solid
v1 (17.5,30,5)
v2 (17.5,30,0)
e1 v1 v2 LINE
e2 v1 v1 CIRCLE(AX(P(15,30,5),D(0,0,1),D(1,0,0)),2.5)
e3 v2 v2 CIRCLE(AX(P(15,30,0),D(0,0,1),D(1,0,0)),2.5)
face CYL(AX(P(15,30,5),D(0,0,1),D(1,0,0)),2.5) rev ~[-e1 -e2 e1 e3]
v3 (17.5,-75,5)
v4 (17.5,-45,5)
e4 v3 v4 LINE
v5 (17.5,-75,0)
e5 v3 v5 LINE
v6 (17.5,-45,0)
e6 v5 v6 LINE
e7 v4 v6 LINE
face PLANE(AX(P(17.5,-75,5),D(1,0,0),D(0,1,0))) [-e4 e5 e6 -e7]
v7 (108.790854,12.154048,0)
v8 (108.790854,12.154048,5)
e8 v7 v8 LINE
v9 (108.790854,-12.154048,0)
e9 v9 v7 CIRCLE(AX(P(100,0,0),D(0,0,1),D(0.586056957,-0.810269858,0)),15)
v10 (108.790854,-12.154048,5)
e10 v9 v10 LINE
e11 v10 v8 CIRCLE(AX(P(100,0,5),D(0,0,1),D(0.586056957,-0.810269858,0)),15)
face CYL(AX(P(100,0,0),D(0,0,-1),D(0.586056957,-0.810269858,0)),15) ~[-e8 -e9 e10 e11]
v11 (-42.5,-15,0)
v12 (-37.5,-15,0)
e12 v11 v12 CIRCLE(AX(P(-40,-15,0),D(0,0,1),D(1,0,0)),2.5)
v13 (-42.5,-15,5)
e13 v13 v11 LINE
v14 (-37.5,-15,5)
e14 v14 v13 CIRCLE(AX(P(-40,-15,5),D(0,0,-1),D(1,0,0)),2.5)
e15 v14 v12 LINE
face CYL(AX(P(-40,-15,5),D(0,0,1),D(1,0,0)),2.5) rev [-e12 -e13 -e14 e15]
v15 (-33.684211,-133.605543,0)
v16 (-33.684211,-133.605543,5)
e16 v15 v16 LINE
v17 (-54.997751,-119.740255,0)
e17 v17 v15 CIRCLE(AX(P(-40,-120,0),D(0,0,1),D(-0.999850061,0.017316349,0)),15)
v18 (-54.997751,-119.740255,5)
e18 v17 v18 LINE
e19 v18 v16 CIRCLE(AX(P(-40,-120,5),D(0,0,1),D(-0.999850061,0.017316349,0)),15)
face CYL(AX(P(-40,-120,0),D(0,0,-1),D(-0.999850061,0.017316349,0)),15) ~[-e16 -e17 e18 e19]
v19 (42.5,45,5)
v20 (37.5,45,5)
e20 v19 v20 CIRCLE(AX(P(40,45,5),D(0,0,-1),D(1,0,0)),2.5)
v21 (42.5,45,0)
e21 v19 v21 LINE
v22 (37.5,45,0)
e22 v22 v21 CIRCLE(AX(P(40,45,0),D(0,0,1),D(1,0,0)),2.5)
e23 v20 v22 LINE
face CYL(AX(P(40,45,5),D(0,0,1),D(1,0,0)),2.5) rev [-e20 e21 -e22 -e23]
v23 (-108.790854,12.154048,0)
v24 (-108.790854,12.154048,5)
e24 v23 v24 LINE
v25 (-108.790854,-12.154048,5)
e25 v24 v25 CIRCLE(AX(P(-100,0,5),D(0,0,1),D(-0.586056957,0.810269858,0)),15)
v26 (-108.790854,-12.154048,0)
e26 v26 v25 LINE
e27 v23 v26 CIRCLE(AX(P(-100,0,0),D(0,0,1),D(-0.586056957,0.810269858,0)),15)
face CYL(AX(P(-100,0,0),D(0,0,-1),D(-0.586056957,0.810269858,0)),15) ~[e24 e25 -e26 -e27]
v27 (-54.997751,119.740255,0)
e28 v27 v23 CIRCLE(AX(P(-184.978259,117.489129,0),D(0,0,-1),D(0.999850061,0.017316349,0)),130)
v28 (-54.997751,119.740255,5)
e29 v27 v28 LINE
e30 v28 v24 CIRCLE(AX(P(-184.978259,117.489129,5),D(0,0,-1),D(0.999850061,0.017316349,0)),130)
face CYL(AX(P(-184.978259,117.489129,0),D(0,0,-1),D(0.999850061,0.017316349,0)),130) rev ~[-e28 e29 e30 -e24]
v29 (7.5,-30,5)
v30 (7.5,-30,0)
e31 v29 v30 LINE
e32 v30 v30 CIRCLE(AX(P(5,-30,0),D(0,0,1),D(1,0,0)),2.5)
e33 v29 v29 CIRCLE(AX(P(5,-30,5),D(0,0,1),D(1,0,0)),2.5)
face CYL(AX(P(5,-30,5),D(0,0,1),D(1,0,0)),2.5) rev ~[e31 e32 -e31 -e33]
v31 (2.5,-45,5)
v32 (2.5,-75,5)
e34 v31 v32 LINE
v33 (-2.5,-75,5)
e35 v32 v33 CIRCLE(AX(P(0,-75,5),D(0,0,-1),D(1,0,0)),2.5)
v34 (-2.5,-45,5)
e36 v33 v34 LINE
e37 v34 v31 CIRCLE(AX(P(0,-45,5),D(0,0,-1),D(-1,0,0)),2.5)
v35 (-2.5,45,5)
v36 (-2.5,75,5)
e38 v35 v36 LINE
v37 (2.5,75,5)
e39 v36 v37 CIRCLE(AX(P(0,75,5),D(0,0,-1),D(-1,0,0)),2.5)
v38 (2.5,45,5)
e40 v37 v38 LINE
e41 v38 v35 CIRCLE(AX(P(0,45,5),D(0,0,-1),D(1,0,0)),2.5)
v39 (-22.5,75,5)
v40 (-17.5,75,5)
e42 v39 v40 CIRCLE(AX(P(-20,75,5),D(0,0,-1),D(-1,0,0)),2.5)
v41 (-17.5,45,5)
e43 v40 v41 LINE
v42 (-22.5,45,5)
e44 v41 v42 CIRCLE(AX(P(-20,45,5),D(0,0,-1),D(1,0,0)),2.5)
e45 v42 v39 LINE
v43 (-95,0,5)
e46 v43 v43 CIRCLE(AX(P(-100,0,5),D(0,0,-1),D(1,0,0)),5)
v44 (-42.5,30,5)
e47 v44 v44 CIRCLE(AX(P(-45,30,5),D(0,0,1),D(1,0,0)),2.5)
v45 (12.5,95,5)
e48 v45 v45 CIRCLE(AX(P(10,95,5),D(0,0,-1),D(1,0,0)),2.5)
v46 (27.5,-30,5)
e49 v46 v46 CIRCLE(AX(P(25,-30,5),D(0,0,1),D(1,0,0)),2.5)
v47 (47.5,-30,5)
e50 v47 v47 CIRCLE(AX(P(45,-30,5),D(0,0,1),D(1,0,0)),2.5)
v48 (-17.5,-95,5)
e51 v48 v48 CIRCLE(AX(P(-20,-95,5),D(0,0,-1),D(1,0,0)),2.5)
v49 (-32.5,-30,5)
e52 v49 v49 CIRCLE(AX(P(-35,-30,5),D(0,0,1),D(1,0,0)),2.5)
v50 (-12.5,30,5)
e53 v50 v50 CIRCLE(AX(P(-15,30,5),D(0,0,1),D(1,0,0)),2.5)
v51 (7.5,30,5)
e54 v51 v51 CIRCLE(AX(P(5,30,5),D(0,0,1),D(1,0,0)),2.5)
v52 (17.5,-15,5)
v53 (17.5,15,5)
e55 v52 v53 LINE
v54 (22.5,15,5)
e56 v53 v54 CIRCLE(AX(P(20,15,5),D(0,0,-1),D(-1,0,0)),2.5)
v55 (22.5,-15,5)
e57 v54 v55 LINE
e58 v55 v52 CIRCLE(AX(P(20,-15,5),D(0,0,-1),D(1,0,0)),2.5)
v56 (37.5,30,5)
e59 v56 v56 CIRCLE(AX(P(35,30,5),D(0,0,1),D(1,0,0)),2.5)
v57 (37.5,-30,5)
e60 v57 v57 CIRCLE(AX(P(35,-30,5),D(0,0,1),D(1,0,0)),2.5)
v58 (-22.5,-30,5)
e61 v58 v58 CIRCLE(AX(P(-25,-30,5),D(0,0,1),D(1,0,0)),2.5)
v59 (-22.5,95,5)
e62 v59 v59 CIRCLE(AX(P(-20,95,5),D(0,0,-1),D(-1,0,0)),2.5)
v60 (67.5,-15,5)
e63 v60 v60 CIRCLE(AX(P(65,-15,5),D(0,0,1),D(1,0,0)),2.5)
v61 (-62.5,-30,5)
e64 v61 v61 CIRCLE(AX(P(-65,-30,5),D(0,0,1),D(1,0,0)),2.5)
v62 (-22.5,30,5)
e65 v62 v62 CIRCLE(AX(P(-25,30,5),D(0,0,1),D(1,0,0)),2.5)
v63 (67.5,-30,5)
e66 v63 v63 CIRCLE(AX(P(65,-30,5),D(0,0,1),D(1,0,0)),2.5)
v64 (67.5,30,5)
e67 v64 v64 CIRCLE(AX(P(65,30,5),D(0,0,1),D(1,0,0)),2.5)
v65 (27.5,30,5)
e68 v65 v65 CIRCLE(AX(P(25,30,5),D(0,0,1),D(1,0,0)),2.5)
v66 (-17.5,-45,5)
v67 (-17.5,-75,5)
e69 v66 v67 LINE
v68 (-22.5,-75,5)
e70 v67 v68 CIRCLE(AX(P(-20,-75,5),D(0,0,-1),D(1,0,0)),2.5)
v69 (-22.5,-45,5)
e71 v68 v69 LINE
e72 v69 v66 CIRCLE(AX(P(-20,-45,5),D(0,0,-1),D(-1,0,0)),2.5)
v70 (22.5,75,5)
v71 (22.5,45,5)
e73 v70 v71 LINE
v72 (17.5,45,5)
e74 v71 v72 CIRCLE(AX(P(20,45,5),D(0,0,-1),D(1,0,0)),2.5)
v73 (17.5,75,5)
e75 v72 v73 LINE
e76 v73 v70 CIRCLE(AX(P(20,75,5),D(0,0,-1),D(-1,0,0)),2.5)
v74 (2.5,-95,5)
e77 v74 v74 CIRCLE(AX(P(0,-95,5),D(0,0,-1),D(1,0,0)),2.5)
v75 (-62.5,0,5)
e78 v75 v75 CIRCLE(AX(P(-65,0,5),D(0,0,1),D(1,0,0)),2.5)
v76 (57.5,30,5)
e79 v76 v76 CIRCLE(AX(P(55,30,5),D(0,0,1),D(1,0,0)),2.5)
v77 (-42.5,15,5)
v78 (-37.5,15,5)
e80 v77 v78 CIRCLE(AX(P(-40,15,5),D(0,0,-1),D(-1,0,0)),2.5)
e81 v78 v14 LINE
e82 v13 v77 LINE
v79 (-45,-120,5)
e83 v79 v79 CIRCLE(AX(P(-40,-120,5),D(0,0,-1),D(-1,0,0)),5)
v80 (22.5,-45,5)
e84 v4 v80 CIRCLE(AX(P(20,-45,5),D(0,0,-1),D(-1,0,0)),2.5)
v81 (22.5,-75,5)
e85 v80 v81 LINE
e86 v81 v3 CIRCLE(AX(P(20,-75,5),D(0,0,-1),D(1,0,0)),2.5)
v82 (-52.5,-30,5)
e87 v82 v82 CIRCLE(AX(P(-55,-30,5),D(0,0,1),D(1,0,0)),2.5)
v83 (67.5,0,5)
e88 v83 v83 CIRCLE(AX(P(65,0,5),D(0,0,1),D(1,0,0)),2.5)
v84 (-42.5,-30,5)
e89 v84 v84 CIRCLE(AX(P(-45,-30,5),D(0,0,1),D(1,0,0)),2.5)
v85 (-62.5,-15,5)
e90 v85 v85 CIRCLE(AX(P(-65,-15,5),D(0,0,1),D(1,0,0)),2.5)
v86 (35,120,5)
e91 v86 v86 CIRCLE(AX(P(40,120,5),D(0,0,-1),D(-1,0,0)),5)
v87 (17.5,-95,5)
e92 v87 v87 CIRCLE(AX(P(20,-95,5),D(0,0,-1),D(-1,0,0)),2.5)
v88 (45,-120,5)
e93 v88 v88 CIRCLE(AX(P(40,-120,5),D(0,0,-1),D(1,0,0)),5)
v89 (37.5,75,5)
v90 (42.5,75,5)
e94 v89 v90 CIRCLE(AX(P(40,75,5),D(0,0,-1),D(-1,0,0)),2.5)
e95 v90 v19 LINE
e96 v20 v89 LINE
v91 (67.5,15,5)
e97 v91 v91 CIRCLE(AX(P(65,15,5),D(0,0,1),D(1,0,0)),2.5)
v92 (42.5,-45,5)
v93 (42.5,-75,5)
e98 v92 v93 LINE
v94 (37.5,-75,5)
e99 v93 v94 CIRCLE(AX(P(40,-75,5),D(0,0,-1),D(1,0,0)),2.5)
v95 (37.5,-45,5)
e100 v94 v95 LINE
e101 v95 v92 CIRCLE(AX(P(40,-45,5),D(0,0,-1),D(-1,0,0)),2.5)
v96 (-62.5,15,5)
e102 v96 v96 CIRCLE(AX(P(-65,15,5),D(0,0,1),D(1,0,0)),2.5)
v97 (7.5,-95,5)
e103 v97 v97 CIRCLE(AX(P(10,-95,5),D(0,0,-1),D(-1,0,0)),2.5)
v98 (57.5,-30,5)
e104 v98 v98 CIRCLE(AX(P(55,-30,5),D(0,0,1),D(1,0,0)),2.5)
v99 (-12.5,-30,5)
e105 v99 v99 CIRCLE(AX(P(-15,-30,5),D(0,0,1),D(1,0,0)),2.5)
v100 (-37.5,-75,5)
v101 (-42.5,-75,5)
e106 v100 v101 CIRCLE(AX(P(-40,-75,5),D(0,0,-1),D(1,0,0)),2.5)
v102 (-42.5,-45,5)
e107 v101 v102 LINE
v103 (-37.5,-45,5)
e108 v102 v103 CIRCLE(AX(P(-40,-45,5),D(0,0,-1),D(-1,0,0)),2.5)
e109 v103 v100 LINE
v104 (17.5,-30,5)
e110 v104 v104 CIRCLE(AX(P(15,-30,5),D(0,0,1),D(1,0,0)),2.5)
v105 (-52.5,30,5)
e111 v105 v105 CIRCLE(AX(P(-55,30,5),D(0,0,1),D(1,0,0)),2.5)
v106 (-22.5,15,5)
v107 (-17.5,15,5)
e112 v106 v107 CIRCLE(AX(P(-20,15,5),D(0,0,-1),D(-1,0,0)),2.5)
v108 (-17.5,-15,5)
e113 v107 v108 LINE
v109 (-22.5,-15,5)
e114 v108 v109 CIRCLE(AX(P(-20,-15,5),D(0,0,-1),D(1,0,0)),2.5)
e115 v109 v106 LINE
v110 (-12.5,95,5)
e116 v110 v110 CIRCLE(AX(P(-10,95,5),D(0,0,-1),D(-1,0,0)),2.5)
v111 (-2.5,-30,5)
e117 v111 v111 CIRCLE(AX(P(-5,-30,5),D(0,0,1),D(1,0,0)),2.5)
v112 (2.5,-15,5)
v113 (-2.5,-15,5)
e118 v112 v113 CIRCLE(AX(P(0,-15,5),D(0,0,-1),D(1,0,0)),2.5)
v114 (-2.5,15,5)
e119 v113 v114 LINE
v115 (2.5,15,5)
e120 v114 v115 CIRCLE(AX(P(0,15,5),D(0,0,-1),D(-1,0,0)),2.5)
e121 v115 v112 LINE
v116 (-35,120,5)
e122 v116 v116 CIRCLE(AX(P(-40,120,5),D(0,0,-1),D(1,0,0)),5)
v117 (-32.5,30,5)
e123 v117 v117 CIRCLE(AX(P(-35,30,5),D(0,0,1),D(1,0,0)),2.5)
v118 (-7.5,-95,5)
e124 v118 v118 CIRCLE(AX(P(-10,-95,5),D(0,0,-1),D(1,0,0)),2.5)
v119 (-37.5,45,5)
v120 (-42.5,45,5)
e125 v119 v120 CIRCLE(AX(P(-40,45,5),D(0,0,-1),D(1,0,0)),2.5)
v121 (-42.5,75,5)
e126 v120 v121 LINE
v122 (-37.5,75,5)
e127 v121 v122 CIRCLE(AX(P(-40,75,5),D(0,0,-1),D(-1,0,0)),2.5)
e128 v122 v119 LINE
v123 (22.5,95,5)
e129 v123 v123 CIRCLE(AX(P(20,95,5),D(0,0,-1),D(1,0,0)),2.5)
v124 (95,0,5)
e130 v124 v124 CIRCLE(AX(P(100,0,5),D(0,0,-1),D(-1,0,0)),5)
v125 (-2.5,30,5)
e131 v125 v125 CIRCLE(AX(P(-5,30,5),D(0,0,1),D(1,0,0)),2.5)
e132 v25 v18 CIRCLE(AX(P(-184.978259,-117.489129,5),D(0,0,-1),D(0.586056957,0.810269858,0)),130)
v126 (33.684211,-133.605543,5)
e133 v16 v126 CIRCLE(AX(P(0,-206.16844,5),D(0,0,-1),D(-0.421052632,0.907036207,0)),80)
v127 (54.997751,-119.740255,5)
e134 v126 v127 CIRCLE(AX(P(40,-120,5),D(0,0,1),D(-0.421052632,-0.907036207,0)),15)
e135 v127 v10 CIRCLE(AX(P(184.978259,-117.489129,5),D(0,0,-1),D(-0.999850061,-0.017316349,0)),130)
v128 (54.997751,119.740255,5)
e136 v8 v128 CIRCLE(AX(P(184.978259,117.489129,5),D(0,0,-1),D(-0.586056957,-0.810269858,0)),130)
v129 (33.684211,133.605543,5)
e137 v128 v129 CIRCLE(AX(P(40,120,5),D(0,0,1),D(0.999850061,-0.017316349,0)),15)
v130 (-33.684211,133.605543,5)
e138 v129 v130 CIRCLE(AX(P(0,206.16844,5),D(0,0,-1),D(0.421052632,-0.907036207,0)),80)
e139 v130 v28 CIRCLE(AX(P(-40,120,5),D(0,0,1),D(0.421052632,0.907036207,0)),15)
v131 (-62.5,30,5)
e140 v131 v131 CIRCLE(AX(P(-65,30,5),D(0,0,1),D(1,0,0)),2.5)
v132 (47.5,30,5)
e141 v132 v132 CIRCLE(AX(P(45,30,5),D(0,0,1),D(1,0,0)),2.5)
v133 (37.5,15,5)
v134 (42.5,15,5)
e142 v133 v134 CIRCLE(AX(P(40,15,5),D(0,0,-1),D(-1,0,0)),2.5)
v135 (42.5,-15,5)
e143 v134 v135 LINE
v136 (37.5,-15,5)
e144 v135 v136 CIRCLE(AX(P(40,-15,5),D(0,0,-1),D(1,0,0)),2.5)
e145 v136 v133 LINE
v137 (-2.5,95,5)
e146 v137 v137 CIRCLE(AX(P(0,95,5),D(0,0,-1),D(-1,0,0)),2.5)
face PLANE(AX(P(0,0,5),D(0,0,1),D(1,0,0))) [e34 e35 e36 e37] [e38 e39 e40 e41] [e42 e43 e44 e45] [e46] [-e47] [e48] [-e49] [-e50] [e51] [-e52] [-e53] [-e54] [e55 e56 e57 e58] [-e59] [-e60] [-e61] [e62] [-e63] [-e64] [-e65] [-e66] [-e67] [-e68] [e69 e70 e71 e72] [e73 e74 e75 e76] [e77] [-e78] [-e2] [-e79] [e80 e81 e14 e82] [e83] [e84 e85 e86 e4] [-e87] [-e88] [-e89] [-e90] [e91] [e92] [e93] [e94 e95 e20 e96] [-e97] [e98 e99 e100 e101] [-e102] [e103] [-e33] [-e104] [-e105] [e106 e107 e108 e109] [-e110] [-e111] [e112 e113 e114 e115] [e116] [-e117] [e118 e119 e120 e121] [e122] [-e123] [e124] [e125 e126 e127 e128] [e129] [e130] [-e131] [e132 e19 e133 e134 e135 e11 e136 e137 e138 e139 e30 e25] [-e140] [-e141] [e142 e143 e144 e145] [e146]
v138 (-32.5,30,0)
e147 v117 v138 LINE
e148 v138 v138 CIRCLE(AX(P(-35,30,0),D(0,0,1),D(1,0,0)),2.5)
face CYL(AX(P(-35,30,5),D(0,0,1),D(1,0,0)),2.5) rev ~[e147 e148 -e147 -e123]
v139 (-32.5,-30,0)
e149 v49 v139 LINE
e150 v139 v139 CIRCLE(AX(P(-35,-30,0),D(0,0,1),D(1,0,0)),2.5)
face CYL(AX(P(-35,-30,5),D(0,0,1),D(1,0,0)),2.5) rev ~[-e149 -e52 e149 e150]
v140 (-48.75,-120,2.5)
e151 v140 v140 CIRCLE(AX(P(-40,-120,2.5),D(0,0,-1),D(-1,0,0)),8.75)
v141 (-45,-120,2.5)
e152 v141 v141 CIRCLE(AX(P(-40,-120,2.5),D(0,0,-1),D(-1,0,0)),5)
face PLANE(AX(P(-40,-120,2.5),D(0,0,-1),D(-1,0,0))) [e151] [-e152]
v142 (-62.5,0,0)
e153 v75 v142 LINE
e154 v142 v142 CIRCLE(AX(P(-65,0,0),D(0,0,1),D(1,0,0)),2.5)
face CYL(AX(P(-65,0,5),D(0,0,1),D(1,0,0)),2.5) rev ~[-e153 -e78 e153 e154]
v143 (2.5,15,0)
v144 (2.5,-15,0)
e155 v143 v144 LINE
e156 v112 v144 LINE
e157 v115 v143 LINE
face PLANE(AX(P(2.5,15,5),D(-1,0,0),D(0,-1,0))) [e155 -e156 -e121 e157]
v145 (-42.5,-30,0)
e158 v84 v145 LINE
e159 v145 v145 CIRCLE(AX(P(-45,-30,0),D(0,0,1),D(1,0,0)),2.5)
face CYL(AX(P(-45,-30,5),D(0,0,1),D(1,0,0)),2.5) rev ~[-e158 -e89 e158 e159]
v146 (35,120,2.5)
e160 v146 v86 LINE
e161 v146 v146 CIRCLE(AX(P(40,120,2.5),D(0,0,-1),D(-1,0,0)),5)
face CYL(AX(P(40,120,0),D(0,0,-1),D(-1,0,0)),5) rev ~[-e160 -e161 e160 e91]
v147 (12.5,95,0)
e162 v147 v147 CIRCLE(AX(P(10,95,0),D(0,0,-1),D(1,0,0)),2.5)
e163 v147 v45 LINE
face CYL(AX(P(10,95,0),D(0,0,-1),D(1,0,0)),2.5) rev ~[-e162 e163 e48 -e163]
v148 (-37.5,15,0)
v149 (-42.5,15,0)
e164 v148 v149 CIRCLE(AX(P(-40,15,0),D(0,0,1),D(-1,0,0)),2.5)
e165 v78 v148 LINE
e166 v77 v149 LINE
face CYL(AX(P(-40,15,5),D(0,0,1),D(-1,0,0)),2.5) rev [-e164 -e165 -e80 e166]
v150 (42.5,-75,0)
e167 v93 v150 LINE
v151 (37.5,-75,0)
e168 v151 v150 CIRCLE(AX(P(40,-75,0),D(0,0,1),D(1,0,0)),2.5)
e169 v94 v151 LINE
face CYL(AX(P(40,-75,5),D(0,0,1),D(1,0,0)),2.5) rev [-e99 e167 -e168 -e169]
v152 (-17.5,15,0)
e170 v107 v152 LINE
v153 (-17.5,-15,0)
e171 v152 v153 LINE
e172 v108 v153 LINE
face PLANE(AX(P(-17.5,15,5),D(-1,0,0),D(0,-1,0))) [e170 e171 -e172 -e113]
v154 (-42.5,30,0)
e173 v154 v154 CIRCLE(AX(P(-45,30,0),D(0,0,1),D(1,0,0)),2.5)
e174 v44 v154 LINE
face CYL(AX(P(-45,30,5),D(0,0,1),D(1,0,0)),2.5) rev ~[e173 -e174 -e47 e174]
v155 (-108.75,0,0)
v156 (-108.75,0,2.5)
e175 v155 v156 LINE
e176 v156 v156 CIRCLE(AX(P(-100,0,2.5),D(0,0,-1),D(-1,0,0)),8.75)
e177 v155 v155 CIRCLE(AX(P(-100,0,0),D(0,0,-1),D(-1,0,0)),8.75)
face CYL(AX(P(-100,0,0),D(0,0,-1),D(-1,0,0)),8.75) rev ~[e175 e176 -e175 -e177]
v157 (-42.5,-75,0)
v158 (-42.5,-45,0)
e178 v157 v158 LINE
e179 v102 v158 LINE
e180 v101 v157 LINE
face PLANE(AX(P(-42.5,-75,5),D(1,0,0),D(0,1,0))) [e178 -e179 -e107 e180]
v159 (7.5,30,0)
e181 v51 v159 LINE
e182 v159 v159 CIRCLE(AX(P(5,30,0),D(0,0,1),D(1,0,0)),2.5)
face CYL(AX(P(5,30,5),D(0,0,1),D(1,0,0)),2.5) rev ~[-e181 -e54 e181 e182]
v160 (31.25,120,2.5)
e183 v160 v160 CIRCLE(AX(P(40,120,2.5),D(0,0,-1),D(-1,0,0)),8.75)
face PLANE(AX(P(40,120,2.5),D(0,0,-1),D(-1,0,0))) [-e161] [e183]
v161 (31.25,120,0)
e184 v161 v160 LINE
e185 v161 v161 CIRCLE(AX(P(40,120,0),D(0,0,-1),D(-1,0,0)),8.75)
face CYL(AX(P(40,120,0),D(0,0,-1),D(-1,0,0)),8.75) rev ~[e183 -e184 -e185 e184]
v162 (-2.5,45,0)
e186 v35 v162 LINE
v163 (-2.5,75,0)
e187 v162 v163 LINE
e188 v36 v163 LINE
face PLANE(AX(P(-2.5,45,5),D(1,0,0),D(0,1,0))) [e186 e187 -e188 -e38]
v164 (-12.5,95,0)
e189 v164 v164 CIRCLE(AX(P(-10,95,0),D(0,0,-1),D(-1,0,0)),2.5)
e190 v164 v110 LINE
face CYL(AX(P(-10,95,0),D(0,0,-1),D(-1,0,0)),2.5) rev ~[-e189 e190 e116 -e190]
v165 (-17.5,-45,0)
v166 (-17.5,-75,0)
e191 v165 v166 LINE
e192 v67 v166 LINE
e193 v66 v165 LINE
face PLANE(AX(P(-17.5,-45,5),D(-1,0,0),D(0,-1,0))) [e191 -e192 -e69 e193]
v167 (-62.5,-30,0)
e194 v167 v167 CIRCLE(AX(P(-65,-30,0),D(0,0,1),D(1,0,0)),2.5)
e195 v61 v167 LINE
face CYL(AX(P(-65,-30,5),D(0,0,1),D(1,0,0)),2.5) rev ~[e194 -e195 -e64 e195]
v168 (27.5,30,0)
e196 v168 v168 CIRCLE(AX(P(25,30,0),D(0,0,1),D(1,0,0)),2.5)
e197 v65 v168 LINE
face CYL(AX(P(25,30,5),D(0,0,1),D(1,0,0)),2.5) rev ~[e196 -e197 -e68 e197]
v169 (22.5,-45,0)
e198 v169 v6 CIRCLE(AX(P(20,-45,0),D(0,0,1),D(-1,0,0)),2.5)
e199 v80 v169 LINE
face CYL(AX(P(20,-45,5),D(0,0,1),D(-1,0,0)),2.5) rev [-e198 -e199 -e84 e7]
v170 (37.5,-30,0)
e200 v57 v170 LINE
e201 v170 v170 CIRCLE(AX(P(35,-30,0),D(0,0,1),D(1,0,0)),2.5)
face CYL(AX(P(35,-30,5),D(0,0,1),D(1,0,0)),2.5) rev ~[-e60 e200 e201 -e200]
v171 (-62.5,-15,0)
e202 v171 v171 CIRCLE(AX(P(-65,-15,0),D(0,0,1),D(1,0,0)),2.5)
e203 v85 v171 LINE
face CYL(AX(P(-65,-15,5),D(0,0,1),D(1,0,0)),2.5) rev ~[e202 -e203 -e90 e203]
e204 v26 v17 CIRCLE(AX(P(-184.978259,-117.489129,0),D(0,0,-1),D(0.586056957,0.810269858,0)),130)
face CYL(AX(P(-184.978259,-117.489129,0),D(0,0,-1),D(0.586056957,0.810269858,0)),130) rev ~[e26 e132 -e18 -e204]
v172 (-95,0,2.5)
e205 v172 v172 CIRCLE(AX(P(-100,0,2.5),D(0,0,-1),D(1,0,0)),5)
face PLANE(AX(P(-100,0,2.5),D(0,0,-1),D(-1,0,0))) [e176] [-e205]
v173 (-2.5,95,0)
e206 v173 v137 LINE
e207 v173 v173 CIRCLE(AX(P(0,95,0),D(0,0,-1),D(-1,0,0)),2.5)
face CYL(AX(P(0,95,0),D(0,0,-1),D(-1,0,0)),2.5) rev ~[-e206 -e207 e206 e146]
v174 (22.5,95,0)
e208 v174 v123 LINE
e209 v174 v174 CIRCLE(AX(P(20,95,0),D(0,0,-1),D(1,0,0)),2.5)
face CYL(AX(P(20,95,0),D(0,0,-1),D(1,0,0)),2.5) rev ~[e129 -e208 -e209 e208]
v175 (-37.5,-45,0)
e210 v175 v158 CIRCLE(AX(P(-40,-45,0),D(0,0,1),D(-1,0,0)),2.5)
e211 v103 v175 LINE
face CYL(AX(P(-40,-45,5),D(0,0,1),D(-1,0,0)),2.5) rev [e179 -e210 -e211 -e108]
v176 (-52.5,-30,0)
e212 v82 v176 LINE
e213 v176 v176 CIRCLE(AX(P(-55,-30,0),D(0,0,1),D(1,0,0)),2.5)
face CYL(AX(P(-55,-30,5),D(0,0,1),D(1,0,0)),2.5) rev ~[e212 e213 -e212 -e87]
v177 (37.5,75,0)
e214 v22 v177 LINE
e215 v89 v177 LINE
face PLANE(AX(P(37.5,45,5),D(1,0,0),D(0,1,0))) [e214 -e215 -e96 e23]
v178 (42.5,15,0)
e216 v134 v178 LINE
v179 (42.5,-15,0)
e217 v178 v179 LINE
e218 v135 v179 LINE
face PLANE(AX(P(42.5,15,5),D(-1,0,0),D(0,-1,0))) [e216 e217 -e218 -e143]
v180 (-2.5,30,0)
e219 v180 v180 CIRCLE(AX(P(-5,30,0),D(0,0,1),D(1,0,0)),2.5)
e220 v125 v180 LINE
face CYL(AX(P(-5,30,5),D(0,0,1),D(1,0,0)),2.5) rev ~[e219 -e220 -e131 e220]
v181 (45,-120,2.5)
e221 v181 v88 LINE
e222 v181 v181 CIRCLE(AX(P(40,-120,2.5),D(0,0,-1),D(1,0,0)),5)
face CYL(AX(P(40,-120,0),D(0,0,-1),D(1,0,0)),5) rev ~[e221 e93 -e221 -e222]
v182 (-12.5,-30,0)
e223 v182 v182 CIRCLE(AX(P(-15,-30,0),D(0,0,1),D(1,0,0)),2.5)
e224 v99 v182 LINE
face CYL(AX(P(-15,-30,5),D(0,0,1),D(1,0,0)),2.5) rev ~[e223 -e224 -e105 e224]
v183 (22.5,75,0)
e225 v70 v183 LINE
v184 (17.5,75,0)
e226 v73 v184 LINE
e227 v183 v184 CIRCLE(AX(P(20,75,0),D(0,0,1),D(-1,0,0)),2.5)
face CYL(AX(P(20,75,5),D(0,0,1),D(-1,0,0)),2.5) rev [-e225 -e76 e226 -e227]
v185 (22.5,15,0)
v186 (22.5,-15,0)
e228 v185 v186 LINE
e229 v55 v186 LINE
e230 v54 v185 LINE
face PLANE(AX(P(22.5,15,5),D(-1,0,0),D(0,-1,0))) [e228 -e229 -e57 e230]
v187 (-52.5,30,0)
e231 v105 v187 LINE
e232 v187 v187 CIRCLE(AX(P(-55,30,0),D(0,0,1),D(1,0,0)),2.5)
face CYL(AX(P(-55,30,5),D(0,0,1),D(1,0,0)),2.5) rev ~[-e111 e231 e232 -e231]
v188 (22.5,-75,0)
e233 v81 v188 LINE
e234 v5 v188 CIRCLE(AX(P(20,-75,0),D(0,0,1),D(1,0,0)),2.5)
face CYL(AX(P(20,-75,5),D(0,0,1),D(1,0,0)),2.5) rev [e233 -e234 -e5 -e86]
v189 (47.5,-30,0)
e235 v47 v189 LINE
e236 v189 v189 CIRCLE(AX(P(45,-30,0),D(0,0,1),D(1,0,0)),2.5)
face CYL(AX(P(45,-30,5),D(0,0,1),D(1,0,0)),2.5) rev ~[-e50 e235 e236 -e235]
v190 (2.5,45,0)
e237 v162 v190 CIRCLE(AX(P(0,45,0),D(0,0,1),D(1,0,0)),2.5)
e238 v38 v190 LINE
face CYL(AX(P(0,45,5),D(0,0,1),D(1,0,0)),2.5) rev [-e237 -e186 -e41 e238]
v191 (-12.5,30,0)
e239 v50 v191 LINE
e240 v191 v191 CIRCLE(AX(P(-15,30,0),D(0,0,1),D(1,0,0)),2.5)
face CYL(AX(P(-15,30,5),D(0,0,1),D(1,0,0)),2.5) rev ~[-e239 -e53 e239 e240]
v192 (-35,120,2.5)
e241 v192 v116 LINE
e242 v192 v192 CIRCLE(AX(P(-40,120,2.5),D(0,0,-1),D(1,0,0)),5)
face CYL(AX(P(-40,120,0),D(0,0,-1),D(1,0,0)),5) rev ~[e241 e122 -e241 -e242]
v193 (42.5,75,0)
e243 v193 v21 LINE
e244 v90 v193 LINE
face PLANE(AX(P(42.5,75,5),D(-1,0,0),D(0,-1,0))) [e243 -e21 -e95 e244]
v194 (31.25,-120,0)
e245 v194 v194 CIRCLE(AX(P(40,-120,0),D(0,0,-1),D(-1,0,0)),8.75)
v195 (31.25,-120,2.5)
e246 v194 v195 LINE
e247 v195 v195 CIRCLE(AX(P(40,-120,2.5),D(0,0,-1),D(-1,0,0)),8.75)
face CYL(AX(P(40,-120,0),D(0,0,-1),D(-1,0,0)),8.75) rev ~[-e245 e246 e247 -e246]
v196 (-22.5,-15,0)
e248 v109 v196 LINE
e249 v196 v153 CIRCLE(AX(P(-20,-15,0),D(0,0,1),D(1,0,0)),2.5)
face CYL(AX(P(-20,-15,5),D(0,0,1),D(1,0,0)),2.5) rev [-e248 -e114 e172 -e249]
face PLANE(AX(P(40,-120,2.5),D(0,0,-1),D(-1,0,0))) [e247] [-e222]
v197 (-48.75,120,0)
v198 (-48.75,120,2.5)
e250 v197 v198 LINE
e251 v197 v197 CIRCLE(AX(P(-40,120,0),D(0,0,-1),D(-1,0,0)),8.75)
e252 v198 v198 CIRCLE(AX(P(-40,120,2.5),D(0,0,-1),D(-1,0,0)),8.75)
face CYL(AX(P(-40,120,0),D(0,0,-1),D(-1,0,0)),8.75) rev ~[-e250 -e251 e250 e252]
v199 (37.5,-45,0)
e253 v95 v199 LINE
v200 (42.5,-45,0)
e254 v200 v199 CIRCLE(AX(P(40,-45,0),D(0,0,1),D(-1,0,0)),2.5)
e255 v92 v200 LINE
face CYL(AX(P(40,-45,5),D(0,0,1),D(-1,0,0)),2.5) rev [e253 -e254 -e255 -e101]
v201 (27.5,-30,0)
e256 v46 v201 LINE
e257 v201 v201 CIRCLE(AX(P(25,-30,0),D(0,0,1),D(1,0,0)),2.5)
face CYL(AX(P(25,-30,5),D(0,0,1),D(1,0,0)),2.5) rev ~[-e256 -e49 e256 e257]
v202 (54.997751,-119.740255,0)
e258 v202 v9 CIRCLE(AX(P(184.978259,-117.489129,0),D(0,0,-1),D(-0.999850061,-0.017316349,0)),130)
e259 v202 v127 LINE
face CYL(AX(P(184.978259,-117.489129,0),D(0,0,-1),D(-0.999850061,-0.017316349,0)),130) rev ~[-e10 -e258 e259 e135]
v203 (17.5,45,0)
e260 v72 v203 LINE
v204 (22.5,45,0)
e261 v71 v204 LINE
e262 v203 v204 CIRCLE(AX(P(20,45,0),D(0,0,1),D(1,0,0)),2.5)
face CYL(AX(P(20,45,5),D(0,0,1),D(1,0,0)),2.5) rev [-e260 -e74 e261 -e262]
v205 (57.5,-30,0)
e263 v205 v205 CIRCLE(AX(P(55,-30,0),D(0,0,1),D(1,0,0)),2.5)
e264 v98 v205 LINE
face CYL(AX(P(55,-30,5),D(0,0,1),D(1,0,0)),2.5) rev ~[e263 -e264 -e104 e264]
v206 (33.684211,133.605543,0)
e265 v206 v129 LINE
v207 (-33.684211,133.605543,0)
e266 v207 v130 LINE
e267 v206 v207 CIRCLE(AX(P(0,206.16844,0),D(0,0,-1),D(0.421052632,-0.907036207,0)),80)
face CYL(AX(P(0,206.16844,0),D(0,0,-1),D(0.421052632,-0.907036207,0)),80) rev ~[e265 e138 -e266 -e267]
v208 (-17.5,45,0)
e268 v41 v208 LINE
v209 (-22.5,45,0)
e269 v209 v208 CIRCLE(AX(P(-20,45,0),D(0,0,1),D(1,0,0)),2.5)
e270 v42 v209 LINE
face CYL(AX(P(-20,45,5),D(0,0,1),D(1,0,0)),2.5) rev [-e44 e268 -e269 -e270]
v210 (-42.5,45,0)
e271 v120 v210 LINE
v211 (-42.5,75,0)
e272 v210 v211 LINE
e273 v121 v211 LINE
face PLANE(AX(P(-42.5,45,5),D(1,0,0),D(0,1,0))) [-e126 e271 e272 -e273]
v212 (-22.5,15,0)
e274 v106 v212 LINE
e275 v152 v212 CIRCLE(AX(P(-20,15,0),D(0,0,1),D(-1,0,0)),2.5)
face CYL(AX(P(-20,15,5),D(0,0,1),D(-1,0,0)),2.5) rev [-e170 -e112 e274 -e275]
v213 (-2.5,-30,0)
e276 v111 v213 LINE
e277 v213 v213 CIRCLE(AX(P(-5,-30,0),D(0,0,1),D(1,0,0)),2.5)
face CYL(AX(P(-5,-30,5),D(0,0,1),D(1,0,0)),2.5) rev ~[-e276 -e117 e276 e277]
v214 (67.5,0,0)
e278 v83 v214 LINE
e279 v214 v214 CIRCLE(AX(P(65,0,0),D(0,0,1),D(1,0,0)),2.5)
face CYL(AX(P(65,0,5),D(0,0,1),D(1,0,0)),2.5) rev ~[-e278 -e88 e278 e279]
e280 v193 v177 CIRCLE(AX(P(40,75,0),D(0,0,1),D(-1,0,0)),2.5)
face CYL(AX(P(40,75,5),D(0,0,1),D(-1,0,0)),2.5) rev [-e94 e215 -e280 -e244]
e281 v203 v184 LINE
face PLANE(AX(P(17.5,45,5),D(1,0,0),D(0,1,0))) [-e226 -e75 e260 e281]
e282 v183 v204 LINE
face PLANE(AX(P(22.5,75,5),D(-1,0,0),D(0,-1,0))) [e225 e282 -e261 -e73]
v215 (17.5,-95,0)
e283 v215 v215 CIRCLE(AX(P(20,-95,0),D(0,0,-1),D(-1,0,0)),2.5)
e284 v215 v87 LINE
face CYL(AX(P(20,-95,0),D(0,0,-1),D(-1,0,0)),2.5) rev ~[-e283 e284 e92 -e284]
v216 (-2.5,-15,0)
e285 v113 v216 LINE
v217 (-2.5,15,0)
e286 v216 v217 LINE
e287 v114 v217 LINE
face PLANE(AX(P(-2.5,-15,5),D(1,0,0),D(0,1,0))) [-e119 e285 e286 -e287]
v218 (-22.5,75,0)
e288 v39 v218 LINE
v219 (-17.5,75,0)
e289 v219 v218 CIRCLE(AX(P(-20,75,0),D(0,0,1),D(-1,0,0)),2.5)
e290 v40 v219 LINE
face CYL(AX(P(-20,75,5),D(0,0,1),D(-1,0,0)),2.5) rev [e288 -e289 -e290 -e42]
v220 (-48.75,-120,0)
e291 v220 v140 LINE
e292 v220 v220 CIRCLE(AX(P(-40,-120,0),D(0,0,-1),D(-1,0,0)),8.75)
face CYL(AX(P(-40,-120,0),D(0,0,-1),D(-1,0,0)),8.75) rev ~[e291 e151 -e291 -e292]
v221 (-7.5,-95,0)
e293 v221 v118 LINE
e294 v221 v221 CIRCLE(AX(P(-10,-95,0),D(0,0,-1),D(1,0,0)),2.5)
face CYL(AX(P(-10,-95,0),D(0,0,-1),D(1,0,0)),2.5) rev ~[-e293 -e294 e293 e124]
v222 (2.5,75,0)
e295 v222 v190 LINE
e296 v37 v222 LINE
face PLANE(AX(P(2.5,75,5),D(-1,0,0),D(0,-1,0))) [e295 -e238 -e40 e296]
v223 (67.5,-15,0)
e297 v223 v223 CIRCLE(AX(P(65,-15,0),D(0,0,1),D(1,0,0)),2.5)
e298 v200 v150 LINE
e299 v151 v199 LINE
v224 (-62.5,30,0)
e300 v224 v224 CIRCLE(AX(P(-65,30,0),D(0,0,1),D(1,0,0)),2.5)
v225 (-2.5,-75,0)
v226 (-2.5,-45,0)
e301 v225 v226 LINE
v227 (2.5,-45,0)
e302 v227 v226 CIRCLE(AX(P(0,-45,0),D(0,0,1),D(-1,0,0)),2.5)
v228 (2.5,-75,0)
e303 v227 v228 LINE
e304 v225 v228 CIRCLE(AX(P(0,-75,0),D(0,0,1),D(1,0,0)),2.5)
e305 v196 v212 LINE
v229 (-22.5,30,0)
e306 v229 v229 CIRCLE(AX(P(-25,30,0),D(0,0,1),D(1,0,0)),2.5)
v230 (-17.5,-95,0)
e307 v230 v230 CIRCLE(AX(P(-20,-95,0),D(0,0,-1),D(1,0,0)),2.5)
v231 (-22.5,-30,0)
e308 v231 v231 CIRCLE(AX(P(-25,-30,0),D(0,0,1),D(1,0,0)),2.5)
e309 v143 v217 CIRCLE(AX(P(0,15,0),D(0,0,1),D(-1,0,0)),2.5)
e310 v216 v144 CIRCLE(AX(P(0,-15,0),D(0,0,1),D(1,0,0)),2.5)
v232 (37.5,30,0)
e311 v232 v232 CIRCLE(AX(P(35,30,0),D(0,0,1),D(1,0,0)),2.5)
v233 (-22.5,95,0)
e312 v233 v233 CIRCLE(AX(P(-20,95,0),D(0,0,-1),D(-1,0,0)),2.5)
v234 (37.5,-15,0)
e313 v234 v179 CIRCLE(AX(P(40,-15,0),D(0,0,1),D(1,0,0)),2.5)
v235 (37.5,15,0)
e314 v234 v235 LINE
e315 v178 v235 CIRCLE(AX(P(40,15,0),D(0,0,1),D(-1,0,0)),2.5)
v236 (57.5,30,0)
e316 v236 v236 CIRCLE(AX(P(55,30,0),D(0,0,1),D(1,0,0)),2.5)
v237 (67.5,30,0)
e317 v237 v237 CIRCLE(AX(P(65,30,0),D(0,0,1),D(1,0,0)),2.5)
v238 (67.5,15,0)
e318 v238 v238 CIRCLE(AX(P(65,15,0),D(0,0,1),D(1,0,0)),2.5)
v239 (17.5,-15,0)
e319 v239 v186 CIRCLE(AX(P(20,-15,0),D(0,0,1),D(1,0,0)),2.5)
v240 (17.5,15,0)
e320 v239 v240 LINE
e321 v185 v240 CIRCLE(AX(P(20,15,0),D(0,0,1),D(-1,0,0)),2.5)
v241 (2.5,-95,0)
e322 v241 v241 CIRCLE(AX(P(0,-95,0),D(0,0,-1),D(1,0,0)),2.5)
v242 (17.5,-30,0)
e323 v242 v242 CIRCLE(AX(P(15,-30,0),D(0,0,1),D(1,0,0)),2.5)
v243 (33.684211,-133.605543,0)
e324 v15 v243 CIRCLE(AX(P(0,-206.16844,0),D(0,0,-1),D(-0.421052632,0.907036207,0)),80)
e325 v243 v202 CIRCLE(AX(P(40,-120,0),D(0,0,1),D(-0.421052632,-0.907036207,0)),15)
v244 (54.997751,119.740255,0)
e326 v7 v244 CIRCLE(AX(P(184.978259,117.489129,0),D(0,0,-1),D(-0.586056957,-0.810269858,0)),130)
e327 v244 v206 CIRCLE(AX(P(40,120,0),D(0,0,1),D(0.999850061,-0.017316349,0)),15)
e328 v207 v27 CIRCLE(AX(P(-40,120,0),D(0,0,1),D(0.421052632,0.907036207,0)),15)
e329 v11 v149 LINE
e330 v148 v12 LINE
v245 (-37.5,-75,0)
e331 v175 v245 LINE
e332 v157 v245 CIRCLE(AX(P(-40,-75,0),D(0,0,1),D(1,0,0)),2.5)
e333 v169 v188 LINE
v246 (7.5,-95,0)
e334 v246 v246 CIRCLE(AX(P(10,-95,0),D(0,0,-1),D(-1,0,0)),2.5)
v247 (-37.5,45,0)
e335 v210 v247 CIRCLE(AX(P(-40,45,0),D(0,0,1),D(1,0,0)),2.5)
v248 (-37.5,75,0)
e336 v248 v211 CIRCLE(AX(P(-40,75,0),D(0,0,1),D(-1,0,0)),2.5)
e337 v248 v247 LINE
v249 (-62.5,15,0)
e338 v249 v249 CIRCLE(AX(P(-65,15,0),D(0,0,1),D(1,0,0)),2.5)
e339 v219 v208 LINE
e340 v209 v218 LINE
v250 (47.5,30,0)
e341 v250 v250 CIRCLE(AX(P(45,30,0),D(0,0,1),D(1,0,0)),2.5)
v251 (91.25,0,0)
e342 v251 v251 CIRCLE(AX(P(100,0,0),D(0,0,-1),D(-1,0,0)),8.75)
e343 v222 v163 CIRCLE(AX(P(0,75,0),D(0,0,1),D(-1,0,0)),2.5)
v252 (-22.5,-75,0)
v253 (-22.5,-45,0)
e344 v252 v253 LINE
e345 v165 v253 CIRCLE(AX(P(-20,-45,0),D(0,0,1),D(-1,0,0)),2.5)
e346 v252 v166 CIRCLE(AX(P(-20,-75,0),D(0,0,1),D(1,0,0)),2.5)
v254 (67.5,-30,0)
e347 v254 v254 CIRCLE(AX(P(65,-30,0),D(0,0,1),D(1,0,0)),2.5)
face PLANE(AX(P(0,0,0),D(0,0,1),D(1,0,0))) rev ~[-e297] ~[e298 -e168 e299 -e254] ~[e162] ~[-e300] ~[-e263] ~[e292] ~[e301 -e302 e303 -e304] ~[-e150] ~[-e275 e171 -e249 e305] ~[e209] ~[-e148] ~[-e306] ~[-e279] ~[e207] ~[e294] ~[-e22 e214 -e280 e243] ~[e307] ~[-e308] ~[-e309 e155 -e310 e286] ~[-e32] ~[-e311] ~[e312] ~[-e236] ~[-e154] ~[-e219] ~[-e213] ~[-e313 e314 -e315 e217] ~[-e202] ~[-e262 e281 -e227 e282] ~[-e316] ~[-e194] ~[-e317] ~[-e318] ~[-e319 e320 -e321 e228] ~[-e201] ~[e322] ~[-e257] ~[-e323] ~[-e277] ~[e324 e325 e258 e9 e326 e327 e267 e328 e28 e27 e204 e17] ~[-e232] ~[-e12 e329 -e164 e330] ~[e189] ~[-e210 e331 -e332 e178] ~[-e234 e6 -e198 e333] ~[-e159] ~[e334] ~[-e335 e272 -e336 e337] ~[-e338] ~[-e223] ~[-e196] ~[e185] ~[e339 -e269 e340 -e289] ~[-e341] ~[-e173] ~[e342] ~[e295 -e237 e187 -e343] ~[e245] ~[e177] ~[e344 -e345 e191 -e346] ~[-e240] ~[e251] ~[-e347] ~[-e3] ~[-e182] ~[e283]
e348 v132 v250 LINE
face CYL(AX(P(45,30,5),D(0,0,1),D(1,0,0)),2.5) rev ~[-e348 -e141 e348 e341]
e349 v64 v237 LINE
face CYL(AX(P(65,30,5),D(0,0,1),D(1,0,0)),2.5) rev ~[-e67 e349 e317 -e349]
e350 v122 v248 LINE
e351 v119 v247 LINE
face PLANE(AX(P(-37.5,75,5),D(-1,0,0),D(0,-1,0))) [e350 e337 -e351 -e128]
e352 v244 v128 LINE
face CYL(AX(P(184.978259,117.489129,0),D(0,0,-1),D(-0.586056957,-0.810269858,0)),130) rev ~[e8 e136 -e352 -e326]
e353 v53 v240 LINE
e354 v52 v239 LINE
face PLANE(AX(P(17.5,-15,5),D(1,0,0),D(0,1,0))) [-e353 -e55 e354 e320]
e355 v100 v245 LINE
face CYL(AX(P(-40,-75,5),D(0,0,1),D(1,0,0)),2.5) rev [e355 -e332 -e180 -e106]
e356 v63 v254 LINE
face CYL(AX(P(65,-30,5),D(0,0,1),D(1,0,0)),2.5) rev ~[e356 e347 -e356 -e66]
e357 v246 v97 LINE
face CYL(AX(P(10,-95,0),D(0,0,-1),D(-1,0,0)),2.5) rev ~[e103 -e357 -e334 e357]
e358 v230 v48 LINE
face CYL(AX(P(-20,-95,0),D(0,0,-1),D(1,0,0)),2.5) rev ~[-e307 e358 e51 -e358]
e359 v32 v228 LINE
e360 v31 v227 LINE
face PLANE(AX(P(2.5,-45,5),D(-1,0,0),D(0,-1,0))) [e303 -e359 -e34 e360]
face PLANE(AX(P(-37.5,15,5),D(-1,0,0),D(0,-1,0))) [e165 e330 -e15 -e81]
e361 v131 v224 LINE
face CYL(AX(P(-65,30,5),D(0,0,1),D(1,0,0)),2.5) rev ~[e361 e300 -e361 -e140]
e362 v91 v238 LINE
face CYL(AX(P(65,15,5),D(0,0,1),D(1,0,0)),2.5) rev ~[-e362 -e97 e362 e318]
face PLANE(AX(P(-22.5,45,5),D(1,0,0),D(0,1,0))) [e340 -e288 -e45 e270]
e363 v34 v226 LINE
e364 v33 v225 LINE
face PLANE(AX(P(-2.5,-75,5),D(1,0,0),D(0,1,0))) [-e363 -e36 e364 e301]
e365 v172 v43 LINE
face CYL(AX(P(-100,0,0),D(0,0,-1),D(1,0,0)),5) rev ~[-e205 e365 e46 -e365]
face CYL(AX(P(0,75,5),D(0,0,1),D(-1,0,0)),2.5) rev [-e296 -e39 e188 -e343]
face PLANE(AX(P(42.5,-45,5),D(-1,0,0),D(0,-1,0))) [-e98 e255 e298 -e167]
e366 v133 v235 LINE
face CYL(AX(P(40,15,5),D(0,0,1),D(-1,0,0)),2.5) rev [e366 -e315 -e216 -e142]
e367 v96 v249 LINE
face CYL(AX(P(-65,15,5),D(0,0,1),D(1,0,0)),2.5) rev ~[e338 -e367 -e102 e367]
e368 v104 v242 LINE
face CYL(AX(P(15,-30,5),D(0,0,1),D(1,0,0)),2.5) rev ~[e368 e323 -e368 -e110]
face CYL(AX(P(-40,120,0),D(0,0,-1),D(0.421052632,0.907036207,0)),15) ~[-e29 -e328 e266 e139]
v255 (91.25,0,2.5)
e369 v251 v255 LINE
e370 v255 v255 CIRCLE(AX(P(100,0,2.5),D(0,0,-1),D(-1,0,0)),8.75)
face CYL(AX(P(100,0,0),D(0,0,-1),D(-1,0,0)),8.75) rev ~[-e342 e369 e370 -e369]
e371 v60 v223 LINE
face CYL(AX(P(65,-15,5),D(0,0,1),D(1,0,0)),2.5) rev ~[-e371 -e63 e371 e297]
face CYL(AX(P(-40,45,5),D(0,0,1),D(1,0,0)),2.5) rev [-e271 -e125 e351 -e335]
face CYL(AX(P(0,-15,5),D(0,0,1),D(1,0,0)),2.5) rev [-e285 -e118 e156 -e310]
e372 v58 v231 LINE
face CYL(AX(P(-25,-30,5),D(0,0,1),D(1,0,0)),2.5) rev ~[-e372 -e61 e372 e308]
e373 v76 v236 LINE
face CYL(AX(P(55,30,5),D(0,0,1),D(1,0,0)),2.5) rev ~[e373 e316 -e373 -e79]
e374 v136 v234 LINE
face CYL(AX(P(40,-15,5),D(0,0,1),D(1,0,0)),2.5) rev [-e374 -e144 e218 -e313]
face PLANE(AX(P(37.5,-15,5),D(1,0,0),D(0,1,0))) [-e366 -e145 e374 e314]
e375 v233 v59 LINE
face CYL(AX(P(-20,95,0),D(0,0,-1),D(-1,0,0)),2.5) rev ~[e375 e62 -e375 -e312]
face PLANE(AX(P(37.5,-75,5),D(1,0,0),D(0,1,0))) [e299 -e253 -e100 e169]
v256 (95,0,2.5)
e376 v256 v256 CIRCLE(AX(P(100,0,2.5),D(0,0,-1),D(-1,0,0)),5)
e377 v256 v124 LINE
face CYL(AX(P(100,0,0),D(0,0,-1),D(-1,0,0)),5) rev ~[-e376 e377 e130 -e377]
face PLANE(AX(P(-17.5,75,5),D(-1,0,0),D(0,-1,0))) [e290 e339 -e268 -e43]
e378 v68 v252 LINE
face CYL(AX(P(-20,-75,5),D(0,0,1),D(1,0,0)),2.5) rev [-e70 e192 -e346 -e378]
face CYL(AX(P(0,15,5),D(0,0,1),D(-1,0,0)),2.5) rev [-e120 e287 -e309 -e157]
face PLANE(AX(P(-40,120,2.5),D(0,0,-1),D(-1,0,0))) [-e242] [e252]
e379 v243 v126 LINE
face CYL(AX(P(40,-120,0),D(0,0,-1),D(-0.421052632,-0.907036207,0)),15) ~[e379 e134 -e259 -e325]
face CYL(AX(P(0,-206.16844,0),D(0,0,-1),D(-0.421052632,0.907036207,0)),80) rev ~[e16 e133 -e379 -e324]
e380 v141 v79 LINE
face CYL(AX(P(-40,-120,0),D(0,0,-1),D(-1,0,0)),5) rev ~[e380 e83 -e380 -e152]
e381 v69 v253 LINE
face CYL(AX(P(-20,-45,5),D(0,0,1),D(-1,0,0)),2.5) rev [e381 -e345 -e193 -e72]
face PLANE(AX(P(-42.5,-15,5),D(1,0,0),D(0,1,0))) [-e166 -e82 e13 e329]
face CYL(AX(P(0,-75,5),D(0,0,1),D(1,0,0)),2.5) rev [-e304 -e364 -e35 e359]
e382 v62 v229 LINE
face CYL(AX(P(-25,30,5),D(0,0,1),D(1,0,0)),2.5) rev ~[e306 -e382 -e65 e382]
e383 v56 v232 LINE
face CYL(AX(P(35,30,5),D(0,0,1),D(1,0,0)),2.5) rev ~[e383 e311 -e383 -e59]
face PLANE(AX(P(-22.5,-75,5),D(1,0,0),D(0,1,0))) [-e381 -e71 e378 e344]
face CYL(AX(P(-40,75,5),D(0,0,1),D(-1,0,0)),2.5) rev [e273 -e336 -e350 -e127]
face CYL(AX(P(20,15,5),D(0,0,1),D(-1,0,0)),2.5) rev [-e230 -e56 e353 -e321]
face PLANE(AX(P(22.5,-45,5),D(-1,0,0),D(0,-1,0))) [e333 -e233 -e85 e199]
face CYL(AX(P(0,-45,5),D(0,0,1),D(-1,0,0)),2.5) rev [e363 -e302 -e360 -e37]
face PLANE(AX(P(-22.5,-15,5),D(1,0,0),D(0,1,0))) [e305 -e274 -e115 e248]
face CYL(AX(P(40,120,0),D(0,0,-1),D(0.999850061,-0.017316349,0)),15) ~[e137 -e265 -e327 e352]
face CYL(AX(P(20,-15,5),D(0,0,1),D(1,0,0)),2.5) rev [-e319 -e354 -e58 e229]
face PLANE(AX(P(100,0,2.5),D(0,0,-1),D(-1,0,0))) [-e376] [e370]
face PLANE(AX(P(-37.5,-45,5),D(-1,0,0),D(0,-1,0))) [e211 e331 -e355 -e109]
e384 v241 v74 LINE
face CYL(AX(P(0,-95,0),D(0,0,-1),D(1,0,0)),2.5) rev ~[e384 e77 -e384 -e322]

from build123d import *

# Parameters (mm, degrees)
BOSS_EXTRUDE1_DEPTH = 5
SKETCH2_R           = 5
CUT_EXTRUDE1_DEPTH  = 178.411949992
SKETCH5_R           = 2.5
CUT_EXTRUDE4_DEPTH  = 12.5
CUT_EXTRUDE5_DEPTH  = 10
SKETCH7_R           = 2.5
CUT_EXTRUDE6_DEPTH  = 10
SKETCH8_R           = 2.5
CUT_EXTRUDE7_DEPTH  = 10
SKETCH9_R           = 8.75
CUT_EXTRUDE8_DEPTH  = 2.5


with BuildPart() as part:
    # Sketch1 → Boss-Extrude1 (new body)
    with BuildSketch(Plane.XY):
        with BuildLine():
            ThreePointArc((108.79085436, -12.15404787), (115, 0), (108.79085436, 12.15404787))
            ThreePointArc((108.79085436, 12.15404787), (68.702723984, 59.351361992), (54.997750912, 119.740254766))
            ThreePointArc((54.997750912, 119.740254766), (48.179588548, 132.573556823), (33.684210526, 133.60554311))
            ThreePointArc((33.684210526, 133.60554311), (0, 126.168439698), (-33.684210526, 133.60554311))
            ThreePointArc((-33.684210526, 133.60554311), (-48.179588548, 132.573556823), (-54.997750912, 119.740254766))
            ThreePointArc((-54.997750912, 119.740254766), (-68.702723984, 59.351361992), (-108.79085436, 12.15404787))
            ThreePointArc((-108.79085436, 12.15404787), (-115, 0), (-108.79085436, -12.15404787))
            ThreePointArc((-108.79085436, -12.15404787), (-68.702723984, -59.351361992), (-54.997750912, -119.740254766))
            ThreePointArc((-54.997750912, -119.740254766), (-48.179588548, -132.573556823), (-33.684210526, -133.60554311))
            ThreePointArc((-33.684210526, -133.60554311), (0, -126.168439698), (33.684210526, -133.60554311))
            ThreePointArc((33.684210526, -133.60554311), (48.179588548, -132.573556823), (54.997750912, -119.740254766))
            ThreePointArc((54.997750912, -119.740254766), (68.702723984, -59.351361992), (108.79085436, -12.15404787))
        make_face()
    extrude(amount=BOSS_EXTRUDE1_DEPTH)

    # Sketch2 → Cut-Extrude1 (cut, through all)
    with BuildSketch(Plane(origin=(0, 0, 0), x_dir=(-1, 0, 0), z_dir=(0, 0, -1))):
        with Locations((-40, 120)):
            Circle(SKETCH2_R)
        with Locations((-100, 0)):
            Circle(SKETCH2_R)
        with Locations(Location((100, 0, 0), (0, 0, 180))):
            Circle(SKETCH2_R)
        with Locations(Location((40, 120, 0), (0, 0, 180))):
            Circle(SKETCH2_R)
        with Locations((40, -120)):
            Circle(SKETCH2_R)
        with Locations(Location((-40, -120, 0), (0, 0, 180))):
            Circle(SKETCH2_R)
    extrude(amount=-CUT_EXTRUDE1_DEPTH, mode=Mode.SUBTRACT)

    # Sketch5 → Cut-Extrude4 (cut)
    with BuildSketch(Plane(origin=(0, 0, 0), x_dir=(-1, 0, 0), z_dir=(0, 0, -1))):
        with Locations((20, 95)):
            Circle(SKETCH5_R)
        with Locations((0, 95)):
            Circle(SKETCH5_R)
        with Locations((10, 95)):
            Circle(SKETCH5_R)
        with Locations(Location((10, -95, 0), (0, 0, 180))):
            Circle(SKETCH5_R)
        with Locations(Location((0, -95, 0), (0, 0, 180))):
            Circle(SKETCH5_R)
        with Locations(Location((20, -95, 0), (0, 0, 180))):
            Circle(SKETCH5_R)
        with Locations(Location((-20, 95, 0), (0, 0, 180))):
            Circle(SKETCH5_R)
        with Locations(Location((-10, 95, 0), (0, 0, 180))):
            Circle(SKETCH5_R)
        with Locations((-20, -95)):
            Circle(SKETCH5_R)
        with Locations((-10, -95)):
            Circle(SKETCH5_R)
    extrude(amount=-CUT_EXTRUDE4_DEPTH, mode=Mode.SUBTRACT)

    # Sketch6 → Cut-Extrude5 (cut)
    with BuildSketch(Plane.XY.offset(5)):
        with BuildLine():
            Line((42.5, 75), (42.5, 45))
            ThreePointArc((42.5, 45), (40, 42.5), (37.5, 45))
            Line((37.5, 45), (37.5, 75))
            ThreePointArc((37.5, 75), (40, 77.5), (42.5, 75))
        make_face()
        with BuildLine():
            Line((22.5, 75), (22.5, 45))
            ThreePointArc((22.5, 45), (20, 42.5), (17.5, 45))
            Line((17.5, 45), (17.5, 75))
            ThreePointArc((17.5, 75), (20, 77.5), (22.5, 75))
        make_face()
        with BuildLine():
            Line((2.5, 75), (2.5, 45))
            ThreePointArc((2.5, 45), (0, 42.5), (-2.5, 45))
            Line((-2.5, 45), (-2.5, 75))
            ThreePointArc((-2.5, 75), (0, 77.5), (2.5, 75))
        make_face()
        with BuildLine():
            Line((-17.5, 75), (-17.5, 45))
            ThreePointArc((-17.5, 45), (-20, 42.5), (-22.5, 45))
            Line((-22.5, 45), (-22.5, 75))
            ThreePointArc((-22.5, 75), (-20, 77.5), (-17.5, 75))
        make_face()
        with BuildLine():
            Line((-37.5, 75), (-37.5, 45))
            ThreePointArc((-37.5, 45), (-40, 42.5), (-42.5, 45))
            Line((-42.5, 45), (-42.5, 75))
            ThreePointArc((-42.5, 75), (-40, 77.5), (-37.5, 75))
        make_face()
        with BuildLine():
            Line((42.5, 15), (42.5, -15))
            ThreePointArc((42.5, -15), (40, -17.5), (37.5, -15))
            Line((37.5, -15), (37.5, 15))
            ThreePointArc((37.5, 15), (40, 17.5), (42.5, 15))
        make_face()
        with BuildLine():
            Line((22.5, 15), (22.5, -15))
            ThreePointArc((22.5, -15), (20, -17.5), (17.5, -15))
            Line((17.5, -15), (17.5, 15))
            ThreePointArc((17.5, 15), (20, 17.5), (22.5, 15))
        make_face()
        with BuildLine():
            Line((2.5, 15), (2.5, -15))
            ThreePointArc((2.5, -15), (0, -17.5), (-2.5, -15))
            Line((-2.5, -15), (-2.5, 15))
            ThreePointArc((-2.5, 15), (0, 17.5), (2.5, 15))
        make_face()
        with BuildLine():
            Line((-17.5, 15), (-17.5, -15))
            ThreePointArc((-17.5, -15), (-20, -17.5), (-22.5, -15))
            Line((-22.5, -15), (-22.5, 15))
            ThreePointArc((-22.5, 15), (-20, 17.5), (-17.5, 15))
        make_face()
        with BuildLine():
            Line((-37.5, 15), (-37.5, -15))
            ThreePointArc((-37.5, -15), (-40, -17.5), (-42.5, -15))
            Line((-42.5, -15), (-42.5, 15))
            ThreePointArc((-42.5, 15), (-40, 17.5), (-37.5, 15))
        make_face()
        with BuildLine():
            Line((42.5, -45), (42.5, -75))
            ThreePointArc((42.5, -75), (40, -77.5), (37.5, -75))
            Line((37.5, -75), (37.5, -45))
            ThreePointArc((37.5, -45), (40, -42.5), (42.5, -45))
        make_face()
        with BuildLine():
            Line((22.5, -45), (22.5, -75))
            ThreePointArc((22.5, -75), (20, -77.5), (17.5, -75))
            Line((17.5, -75), (17.5, -45))
            ThreePointArc((17.5, -45), (20, -42.5), (22.5, -45))
        make_face()
        with BuildLine():
            Line((2.5, -45), (2.5, -75))
            ThreePointArc((2.5, -75), (0, -77.5), (-2.5, -75))
            Line((-2.5, -75), (-2.5, -45))
            ThreePointArc((-2.5, -45), (0, -42.5), (2.5, -45))
        make_face()
        with BuildLine():
            Line((-17.5, -45), (-17.5, -75))
            ThreePointArc((-17.5, -75), (-20, -77.5), (-22.5, -75))
            Line((-22.5, -75), (-22.5, -45))
            ThreePointArc((-22.5, -45), (-20, -42.5), (-17.5, -45))
        make_face()
        with BuildLine():
            Line((-37.5, -45), (-37.5, -75))
            ThreePointArc((-37.5, -75), (-40, -77.5), (-42.5, -75))
            Line((-42.5, -75), (-42.5, -45))
            ThreePointArc((-42.5, -45), (-40, -42.5), (-37.5, -45))
        make_face()
    extrude(amount=-CUT_EXTRUDE5_DEPTH, mode=Mode.SUBTRACT)

    # Sketch7 → Cut-Extrude6 (cut)
    with BuildSketch(Plane.XY.offset(5)):
        with Locations((-65, 30)):
            Circle(SKETCH7_R)
        with Locations((-55, 30)):
            Circle(SKETCH7_R)
        with Locations((-45, 30)):
            Circle(SKETCH7_R)
        with Locations((-35, 30)):
            Circle(SKETCH7_R)
        with Locations((-25, 30)):
            Circle(SKETCH7_R)
        with Locations((-15, 30)):
            Circle(SKETCH7_R)
        with Locations((-5, 30)):
            Circle(SKETCH7_R)
        with Locations((5, 30)):
            Circle(SKETCH7_R)
        with Locations((15, 30)):
            Circle(SKETCH7_R)
        with Locations((25, 30)):
            Circle(SKETCH7_R)
        with Locations((35, 30)):
            Circle(SKETCH7_R)
        with Locations((45, 30)):
            Circle(SKETCH7_R)
        with Locations((55, 30)):
            Circle(SKETCH7_R)
        with Locations((65, 30)):
            Circle(SKETCH7_R)
        with Locations((65, -30)):
            Circle(SKETCH7_R)
        with Locations((55, -30)):
            Circle(SKETCH7_R)
        with Locations((45, -30)):
            Circle(SKETCH7_R)
        with Locations((35, -30)):
            Circle(SKETCH7_R)
        with Locations((25, -30)):
            Circle(SKETCH7_R)
        with Locations((15, -30)):
            Circle(SKETCH7_R)
        with Locations((5, -30)):
            Circle(SKETCH7_R)
        with Locations((-5, -30)):
            Circle(SKETCH7_R)
        with Locations((-15, -30)):
            Circle(SKETCH7_R)
        with Locations((-25, -30)):
            Circle(SKETCH7_R)
        with Locations((-35, -30)):
            Circle(SKETCH7_R)
        with Locations((-45, -30)):
            Circle(SKETCH7_R)
        with Locations((-55, -30)):
            Circle(SKETCH7_R)
        with Locations((-65, -30)):
            Circle(SKETCH7_R)
    extrude(amount=-CUT_EXTRUDE6_DEPTH, mode=Mode.SUBTRACT)

    # Sketch8 → Cut-Extrude7 (cut)
    with BuildSketch(Plane.XY.offset(5)):
        with Locations((-65, 0)):
            Circle(SKETCH8_R)
        with Locations((-65, 15)):
            Circle(SKETCH8_R)
        with Locations((-65, -15)):
            Circle(SKETCH8_R)
        with Locations((65, -15)):
            Circle(SKETCH8_R)
        with Locations((65, 0)):
            Circle(SKETCH8_R)
        with Locations((65, 15)):
            Circle(SKETCH8_R)
    extrude(amount=-CUT_EXTRUDE7_DEPTH, mode=Mode.SUBTRACT)

    # Sketch9 → Cut-Extrude8 (cut)
    with BuildSketch(Plane(origin=(0, 0, 0), x_dir=(-1, 0, 0), z_dir=(0, 0, -1))):
        with Locations((100, 0)):
            Circle(SKETCH9_R)
        with Locations((40, 120)):
            Circle(SKETCH9_R)
        with Locations((40, -120)):
            Circle(SKETCH9_R)
        with Locations((-40, -120)):
            Circle(SKETCH9_R)
        with Locations((-100, 0)):
            Circle(SKETCH9_R)
        with Locations((-40, 120)):
            Circle(SKETCH9_R)
    extrude(amount=-CUT_EXTRUDE8_DEPTH, mode=Mode.SUBTRACT)


solid = part.part
